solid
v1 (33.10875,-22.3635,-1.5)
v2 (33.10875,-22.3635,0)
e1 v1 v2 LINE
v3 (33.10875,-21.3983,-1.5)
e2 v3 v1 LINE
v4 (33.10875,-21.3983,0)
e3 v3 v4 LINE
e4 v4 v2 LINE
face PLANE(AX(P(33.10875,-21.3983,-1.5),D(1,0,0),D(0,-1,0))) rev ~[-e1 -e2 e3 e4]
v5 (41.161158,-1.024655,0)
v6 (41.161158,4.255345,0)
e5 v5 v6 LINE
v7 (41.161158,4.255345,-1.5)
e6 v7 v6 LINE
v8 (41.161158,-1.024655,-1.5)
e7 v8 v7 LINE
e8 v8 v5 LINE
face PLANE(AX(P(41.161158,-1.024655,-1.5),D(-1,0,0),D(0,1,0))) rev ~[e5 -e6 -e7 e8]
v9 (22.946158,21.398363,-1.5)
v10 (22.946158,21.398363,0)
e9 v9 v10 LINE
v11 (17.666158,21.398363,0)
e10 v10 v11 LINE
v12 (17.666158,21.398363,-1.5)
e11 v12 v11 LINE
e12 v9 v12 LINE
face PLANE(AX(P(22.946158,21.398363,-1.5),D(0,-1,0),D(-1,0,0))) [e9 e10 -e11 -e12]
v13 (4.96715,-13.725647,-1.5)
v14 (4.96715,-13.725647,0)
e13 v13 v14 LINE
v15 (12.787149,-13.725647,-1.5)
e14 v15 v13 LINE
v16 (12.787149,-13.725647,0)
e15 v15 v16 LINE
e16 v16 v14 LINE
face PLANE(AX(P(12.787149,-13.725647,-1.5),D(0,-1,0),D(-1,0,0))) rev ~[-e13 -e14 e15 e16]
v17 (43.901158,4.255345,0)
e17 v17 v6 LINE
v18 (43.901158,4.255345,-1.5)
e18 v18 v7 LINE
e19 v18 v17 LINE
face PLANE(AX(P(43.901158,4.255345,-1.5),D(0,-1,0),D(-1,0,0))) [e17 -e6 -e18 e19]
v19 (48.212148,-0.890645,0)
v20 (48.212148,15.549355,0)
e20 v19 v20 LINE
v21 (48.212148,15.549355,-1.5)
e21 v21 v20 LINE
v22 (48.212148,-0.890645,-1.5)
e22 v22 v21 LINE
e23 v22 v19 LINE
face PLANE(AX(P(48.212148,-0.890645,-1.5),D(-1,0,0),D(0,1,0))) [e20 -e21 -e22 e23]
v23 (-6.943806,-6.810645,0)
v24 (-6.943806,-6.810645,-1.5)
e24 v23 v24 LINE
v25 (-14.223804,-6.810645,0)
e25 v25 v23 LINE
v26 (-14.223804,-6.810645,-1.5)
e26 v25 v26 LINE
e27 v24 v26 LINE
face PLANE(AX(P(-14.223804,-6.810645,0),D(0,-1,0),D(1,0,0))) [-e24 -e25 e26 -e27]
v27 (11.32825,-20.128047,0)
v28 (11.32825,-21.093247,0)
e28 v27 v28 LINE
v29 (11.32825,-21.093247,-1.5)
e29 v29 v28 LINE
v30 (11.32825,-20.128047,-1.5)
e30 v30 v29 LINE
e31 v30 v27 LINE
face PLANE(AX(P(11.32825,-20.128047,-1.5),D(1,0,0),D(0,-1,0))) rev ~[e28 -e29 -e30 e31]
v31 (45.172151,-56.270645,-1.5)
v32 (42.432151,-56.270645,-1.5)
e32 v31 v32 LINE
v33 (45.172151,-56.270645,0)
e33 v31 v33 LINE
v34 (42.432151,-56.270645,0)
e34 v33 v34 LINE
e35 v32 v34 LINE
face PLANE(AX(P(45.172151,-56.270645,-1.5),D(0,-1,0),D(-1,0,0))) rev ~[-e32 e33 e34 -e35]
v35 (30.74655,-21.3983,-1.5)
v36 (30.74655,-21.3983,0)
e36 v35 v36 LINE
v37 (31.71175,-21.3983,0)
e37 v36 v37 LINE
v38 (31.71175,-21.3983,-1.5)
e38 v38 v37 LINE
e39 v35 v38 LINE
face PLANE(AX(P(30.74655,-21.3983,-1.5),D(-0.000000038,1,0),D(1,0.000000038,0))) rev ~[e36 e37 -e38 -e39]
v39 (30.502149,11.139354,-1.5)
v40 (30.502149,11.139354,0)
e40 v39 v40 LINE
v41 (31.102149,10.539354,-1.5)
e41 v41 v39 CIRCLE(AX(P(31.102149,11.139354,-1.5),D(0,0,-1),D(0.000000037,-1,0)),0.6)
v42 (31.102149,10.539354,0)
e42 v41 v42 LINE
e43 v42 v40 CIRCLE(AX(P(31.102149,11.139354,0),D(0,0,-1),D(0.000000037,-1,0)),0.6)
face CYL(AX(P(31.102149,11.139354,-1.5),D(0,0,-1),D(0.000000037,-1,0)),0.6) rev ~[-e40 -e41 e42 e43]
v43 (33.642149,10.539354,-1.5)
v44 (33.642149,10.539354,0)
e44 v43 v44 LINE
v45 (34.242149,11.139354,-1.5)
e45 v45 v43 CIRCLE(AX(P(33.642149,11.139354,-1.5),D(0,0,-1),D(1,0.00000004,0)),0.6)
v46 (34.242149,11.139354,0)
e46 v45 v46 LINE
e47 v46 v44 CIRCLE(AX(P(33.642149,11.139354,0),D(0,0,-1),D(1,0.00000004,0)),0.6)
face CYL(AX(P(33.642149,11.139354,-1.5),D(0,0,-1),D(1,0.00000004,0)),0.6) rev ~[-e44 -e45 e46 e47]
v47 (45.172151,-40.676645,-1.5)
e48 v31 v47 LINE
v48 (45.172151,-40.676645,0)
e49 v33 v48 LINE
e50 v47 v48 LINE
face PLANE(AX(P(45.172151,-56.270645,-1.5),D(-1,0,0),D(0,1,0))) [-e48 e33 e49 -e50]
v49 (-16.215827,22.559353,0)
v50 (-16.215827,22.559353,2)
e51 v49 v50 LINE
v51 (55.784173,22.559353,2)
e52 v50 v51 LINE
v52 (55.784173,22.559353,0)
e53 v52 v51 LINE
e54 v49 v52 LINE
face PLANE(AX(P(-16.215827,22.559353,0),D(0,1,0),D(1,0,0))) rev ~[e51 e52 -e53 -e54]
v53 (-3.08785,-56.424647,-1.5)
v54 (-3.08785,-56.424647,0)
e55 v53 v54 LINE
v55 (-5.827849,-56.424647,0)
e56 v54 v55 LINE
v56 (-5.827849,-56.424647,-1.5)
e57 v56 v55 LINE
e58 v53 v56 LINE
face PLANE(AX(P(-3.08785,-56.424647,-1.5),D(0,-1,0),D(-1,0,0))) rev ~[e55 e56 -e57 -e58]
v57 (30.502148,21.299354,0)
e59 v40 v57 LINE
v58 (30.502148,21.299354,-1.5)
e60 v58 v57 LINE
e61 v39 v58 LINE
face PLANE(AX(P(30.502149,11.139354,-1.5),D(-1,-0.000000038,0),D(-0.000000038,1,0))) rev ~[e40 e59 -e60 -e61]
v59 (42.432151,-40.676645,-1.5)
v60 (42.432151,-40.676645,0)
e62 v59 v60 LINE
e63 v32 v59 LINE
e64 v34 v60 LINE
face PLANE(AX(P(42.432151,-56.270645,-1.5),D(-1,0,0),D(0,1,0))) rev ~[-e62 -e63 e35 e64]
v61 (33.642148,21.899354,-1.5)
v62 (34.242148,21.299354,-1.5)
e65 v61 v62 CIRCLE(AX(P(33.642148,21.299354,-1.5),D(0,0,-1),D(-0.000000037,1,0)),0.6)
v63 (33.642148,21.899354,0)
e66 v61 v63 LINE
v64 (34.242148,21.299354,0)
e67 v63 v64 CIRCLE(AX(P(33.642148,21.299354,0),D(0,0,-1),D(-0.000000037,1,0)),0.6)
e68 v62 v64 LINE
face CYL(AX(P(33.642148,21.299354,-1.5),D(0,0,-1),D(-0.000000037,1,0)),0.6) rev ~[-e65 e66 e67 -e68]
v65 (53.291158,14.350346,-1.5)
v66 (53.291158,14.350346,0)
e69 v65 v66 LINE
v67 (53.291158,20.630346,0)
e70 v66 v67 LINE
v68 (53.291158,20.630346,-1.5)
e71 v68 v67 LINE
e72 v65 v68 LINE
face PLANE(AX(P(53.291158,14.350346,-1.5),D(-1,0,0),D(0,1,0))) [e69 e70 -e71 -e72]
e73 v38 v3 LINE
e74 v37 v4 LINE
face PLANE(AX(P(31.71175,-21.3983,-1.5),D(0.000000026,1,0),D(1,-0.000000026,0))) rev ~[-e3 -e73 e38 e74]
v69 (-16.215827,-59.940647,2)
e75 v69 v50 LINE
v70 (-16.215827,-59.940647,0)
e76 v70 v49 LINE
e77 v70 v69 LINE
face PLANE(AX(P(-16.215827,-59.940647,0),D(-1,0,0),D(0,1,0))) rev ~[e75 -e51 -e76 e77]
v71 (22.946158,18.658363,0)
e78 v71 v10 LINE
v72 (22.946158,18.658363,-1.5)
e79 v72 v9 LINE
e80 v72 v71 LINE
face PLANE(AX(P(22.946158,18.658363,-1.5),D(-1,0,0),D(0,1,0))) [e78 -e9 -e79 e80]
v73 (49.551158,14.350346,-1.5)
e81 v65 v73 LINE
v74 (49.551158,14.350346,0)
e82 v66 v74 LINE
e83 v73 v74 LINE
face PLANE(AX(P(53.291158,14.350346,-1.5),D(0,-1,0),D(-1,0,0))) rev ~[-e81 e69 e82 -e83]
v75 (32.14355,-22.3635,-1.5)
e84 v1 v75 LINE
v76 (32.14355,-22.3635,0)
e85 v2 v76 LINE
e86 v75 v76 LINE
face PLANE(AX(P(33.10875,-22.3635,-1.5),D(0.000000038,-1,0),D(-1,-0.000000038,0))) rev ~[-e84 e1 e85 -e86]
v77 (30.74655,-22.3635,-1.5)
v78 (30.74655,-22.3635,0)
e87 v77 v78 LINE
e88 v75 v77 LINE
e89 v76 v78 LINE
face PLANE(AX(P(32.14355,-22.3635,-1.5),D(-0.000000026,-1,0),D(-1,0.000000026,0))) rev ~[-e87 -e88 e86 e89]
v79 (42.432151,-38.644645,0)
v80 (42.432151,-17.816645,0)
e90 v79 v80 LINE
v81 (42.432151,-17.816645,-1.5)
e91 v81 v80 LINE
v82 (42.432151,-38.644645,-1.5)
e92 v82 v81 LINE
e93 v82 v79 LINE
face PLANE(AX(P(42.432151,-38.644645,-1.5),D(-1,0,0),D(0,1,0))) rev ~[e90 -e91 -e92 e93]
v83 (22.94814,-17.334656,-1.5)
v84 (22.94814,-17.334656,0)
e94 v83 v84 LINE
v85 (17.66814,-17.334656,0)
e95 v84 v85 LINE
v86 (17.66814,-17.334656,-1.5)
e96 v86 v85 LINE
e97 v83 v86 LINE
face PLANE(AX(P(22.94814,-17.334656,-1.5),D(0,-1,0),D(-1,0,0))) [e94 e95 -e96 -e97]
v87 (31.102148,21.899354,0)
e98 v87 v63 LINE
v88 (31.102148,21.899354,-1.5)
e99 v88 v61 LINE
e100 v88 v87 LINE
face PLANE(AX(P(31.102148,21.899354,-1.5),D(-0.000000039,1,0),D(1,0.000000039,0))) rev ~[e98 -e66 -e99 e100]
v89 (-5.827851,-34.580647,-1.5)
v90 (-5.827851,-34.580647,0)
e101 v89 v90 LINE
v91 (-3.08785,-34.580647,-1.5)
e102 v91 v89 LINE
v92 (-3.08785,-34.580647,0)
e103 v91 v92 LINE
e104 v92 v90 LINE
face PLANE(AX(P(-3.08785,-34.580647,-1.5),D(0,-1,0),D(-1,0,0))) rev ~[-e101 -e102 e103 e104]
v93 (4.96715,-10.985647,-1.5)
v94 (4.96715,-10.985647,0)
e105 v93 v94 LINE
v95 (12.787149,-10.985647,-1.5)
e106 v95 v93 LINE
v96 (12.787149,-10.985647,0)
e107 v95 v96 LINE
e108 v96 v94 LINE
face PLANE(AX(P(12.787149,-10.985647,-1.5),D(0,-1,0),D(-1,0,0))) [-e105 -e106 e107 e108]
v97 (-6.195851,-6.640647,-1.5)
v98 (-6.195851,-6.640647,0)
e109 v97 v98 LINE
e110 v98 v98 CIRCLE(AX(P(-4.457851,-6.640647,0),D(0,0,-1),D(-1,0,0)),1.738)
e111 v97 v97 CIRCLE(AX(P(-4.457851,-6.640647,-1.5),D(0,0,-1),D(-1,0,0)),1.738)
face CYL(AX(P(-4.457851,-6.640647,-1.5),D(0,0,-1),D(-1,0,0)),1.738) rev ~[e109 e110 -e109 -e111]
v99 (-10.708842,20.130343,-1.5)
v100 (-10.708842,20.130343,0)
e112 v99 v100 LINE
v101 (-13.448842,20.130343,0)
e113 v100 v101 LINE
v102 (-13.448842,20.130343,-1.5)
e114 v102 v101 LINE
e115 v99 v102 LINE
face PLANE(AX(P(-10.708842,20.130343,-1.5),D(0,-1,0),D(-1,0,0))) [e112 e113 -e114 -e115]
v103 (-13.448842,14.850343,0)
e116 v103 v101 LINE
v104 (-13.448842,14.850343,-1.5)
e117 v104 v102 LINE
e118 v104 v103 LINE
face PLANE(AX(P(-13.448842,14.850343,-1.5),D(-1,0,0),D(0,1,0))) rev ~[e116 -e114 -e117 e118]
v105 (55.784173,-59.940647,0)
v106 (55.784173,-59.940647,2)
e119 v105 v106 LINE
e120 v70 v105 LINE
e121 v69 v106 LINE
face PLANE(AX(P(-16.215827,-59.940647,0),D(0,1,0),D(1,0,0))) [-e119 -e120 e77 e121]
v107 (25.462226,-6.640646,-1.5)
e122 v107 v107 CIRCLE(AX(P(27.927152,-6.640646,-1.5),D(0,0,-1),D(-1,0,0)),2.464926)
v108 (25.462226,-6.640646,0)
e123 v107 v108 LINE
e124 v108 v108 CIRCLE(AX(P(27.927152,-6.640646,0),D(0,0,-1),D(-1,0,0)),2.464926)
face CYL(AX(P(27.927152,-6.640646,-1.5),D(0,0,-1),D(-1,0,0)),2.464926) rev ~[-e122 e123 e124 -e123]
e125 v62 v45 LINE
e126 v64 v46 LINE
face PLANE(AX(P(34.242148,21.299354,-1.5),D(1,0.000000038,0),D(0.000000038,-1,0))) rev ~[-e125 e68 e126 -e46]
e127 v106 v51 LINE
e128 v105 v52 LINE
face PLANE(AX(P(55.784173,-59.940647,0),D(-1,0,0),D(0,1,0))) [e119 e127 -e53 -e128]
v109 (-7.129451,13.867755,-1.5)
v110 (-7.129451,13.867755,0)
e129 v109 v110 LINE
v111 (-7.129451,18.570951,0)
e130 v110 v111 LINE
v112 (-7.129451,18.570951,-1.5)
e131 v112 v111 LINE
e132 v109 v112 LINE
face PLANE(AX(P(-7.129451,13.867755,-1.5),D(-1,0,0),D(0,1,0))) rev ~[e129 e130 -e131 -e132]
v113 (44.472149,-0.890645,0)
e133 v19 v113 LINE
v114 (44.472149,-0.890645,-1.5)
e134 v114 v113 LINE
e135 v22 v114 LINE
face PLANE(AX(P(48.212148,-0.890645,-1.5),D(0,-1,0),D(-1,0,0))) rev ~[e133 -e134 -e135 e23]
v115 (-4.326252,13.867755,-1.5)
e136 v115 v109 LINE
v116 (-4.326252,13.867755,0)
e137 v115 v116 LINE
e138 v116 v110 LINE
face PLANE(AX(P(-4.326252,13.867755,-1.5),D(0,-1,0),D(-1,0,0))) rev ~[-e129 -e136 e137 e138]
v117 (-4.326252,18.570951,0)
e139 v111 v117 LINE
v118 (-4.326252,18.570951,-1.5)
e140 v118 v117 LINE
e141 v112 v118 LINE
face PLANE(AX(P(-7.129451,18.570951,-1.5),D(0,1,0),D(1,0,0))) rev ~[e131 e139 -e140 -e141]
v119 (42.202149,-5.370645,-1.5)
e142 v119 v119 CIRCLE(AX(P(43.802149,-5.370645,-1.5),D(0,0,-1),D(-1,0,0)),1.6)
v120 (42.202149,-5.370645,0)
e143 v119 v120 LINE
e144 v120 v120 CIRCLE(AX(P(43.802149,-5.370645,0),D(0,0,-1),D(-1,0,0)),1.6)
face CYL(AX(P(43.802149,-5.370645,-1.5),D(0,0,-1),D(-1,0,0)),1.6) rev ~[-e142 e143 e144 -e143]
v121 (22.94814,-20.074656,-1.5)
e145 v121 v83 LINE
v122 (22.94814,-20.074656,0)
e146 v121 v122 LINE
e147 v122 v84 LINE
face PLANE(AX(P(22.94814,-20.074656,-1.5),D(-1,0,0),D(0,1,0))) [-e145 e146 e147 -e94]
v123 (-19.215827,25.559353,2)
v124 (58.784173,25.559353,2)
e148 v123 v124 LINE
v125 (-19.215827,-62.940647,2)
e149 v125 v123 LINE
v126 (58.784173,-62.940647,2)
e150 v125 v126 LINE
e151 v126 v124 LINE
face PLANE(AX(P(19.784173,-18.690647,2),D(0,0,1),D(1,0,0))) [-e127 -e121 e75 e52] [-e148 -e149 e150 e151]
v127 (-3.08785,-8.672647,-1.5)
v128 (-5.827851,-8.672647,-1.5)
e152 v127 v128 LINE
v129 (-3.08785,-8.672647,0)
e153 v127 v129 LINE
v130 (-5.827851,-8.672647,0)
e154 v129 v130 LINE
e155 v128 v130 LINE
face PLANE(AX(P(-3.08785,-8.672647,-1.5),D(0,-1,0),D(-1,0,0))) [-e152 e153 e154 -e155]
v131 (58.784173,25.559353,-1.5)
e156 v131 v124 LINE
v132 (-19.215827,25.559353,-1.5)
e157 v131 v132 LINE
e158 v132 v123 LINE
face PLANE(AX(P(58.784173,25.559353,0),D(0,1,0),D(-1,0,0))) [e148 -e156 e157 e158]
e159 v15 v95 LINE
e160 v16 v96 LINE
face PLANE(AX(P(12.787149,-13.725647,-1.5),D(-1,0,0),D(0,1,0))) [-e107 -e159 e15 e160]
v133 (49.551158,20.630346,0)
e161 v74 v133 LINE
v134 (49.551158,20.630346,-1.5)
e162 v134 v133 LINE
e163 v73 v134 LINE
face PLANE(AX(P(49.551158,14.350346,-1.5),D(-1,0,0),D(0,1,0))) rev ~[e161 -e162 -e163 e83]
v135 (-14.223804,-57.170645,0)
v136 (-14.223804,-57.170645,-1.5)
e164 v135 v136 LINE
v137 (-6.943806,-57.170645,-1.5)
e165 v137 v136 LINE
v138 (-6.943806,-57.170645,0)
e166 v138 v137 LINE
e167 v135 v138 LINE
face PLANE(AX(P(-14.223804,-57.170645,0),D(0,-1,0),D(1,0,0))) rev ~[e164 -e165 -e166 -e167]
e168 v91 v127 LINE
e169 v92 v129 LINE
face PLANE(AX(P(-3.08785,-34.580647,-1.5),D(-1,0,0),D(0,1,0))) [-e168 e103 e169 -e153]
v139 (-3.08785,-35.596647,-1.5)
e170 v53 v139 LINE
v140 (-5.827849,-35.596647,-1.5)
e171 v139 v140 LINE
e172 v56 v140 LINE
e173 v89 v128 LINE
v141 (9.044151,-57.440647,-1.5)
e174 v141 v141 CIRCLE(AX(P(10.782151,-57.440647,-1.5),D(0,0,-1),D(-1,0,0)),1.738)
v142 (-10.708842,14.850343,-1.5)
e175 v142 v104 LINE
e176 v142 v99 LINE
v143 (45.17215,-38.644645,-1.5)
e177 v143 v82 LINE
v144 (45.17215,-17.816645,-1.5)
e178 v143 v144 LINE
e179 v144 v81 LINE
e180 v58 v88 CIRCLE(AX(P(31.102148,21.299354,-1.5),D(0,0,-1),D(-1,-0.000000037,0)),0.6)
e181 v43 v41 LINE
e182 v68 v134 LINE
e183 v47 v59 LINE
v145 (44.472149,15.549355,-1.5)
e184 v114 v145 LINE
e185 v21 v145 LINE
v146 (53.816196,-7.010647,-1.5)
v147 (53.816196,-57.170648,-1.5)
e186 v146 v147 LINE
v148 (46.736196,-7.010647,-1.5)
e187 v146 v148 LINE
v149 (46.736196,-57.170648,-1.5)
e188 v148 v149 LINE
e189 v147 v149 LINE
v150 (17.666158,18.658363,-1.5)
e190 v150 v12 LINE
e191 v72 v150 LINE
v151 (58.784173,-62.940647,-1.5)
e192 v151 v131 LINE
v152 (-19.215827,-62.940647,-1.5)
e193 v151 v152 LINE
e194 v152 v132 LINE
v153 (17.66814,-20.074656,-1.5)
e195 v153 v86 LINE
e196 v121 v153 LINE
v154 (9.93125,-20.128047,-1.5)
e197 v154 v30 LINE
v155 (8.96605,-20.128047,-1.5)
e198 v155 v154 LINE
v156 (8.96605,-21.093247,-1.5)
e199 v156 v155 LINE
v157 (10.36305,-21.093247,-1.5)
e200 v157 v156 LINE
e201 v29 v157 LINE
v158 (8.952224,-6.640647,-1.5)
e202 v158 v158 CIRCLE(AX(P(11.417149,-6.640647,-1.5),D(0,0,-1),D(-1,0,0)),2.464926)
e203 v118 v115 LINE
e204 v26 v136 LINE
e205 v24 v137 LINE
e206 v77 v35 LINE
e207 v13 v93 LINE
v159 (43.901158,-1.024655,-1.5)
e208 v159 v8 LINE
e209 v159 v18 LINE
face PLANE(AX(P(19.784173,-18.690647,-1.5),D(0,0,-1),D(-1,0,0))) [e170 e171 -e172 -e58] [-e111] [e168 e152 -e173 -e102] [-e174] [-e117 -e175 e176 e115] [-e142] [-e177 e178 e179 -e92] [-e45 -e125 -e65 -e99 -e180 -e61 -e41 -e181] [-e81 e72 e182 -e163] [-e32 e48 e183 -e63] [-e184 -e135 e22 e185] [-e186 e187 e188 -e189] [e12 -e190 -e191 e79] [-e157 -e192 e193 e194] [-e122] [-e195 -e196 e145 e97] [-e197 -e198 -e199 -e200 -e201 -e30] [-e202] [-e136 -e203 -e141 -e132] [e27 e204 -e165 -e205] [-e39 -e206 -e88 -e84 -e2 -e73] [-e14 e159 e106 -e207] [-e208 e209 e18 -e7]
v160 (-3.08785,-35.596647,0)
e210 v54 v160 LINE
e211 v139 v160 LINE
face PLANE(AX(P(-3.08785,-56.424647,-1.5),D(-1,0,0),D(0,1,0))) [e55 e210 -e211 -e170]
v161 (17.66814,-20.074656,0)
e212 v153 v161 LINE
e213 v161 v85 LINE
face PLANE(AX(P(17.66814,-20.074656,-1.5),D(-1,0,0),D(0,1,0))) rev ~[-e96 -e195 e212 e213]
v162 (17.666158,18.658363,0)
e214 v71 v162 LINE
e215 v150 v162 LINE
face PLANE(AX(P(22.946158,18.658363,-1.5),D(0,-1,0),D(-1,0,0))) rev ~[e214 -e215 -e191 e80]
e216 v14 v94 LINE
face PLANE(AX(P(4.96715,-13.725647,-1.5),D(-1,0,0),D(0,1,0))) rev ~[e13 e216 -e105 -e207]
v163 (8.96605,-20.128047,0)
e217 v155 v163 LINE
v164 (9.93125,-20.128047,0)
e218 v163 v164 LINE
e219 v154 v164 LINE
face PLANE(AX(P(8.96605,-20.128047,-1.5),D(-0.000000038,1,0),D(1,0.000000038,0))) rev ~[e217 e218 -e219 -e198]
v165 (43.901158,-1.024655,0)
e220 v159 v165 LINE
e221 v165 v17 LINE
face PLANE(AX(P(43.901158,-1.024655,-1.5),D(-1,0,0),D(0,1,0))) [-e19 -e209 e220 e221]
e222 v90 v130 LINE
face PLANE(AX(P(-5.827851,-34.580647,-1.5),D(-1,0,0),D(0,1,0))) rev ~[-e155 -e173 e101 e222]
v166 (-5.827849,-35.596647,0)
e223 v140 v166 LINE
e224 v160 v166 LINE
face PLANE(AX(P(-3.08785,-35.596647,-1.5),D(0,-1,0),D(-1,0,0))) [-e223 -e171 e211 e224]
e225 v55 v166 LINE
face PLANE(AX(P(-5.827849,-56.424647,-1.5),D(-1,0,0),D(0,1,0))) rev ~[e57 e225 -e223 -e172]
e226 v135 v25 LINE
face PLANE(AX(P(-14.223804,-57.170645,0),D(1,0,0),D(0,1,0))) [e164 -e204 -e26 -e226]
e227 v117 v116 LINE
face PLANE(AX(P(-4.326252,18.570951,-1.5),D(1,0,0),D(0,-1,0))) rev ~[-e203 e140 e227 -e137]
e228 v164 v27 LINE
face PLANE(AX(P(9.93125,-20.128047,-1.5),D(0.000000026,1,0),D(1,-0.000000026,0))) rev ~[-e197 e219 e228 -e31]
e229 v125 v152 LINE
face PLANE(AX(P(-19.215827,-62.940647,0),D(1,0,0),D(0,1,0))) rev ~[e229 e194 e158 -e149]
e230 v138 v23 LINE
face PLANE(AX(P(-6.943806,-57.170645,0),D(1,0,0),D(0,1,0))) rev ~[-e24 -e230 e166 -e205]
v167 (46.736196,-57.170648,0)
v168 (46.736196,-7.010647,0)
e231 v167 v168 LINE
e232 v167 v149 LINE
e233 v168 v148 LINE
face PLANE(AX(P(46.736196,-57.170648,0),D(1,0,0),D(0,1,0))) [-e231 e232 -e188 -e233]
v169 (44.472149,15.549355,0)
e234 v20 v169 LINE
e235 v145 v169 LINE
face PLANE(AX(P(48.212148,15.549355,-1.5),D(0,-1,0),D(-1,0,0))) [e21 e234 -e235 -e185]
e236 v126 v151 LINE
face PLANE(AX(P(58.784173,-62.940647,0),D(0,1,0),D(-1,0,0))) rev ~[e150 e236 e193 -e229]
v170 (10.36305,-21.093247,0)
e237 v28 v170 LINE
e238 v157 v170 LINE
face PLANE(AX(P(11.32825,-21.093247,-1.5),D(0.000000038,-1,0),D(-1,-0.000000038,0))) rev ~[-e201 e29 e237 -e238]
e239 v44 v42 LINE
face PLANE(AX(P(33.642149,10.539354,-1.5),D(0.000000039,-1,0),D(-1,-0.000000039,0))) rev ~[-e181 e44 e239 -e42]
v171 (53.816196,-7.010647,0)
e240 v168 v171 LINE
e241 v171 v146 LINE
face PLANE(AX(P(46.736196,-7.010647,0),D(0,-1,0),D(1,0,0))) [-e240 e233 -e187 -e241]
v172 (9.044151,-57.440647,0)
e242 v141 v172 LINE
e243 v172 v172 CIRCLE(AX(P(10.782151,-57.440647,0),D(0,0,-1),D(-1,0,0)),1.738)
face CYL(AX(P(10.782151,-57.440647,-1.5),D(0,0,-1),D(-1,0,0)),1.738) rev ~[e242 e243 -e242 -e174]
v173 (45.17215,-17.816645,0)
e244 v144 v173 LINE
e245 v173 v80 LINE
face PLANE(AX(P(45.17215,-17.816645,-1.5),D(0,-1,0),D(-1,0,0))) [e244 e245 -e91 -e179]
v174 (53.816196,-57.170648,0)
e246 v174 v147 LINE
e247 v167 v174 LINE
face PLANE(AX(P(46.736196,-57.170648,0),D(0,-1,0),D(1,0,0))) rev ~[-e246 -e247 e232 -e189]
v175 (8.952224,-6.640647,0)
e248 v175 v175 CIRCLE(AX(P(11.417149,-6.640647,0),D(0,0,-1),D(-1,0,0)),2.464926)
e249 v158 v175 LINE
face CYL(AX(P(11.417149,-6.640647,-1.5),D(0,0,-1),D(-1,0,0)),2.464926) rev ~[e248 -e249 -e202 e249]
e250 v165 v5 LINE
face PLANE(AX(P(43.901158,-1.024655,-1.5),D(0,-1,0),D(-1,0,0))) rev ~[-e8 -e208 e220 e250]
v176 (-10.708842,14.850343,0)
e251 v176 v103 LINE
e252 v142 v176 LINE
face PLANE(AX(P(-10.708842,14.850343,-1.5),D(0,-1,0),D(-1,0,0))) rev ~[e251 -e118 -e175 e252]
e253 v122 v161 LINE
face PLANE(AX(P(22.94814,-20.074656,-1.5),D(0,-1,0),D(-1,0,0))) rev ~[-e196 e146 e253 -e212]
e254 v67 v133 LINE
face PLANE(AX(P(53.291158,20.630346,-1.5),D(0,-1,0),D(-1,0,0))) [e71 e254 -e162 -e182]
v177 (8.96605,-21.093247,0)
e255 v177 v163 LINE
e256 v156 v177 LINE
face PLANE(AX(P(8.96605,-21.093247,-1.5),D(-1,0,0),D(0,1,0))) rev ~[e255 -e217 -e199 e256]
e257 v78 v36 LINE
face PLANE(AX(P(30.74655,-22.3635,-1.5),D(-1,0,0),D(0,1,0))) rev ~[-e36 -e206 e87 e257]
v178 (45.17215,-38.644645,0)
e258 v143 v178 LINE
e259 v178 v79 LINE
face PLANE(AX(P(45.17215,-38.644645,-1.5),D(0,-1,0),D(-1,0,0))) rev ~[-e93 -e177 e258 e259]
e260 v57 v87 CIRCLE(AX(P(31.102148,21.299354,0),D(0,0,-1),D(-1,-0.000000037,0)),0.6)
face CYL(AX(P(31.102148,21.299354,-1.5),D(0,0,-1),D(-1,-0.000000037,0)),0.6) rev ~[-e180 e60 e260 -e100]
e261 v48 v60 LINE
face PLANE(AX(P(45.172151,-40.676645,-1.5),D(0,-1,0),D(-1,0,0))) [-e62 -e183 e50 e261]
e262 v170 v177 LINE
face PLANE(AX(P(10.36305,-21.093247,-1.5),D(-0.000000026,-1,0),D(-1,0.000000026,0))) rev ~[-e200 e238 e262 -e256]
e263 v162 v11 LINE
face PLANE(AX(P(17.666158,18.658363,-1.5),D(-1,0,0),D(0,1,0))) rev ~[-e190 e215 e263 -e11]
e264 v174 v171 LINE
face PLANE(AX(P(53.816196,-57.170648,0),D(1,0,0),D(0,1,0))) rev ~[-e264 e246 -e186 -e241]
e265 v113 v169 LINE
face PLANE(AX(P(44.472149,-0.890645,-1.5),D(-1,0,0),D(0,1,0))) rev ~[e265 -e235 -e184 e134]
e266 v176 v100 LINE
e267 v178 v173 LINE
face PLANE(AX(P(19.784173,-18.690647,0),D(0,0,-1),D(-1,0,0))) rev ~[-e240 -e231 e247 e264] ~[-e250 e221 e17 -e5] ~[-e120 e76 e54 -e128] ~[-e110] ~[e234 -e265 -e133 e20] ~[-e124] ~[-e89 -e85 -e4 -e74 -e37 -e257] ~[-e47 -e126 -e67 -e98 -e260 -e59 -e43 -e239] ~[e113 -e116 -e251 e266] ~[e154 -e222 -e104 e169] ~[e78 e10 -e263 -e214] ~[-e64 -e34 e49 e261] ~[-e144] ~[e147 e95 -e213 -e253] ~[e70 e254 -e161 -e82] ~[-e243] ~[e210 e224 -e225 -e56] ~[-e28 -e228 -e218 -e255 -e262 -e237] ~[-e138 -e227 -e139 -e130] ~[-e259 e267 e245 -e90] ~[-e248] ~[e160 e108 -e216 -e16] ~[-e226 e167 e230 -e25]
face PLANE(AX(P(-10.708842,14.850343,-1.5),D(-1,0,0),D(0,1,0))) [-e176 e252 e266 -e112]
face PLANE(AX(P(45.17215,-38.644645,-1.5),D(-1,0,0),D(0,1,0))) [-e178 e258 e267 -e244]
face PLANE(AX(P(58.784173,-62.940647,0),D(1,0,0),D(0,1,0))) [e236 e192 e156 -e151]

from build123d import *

# Parameters (mm, degrees)
SKETCH1_W           = 78
SKETCH1_H           = 88.5
SKETCH1_W_2         = 72
SKETCH1_H_2         = 82.5
BOSS_EXTRUDE1_DEPTH = 2
SKETCH2_W           = 78
SKETCH2_H           = 88.5
BOSS_EXTRUDE2_DEPTH = 1.5
SKETCH7_W           = 7.279998142
SKETCH7_H           = 50.36
SKETCH7_W_2         = 7.079999996
SKETCH7_H_2         = 50.160000192
CUT_EXTRUDE1_DEPTH  = 15
SKETCH8_R           = 1.738
SKETCH8_R_2         = 1.6
CUT_EXTRUDE2_DEPTH  = 10
SKETCH9_R           = 2.464925529
CUT_EXTRUDE3_DEPTH  = 10
SKETCH11_W          = 5.279999902
SKETCH11_H          = 2.74
SKETCH11_W_2        = 2.74
SKETCH11_H_2        = 5.28
SKETCH11_W_3        = 7.819999902
SKETCH11_W_4        = 5.280000098
SKETCH11_H_3        = 2.739999805
CUT_EXTRUDE4_DEPTH  = 10
SKETCH10_W          = 2.740000978
SKETCH10_H          = 25.907999907
SKETCH10_W_2        = 2.739999218
SKETCH10_H_2        = 20.828000093
SKETCH10_W_3        = 2.73999941
SKETCH10_H_3        = 15.594000099
SKETCH10_W_4        = 3.739999409
SKETCH10_H_4        = 16.440000004
SKETCH10_W_5        = 2.739999409
SKETCH10_H_5        = 15.440000004
SKETCH10_W_6        = 3.739999801
SKETCH10_H_6        = 6.280000102
SKETCH10_W_7        = 2.739999801
SKETCH10_H_7        = 5.280000102
CUT_EXTRUDE5_DEPTH  = 10
CUT_EXTRUDE6_DEPTH  = 10


with BuildPart() as part:
    # Sketch1 → Boss-Extrude1 (new body)
    with BuildSketch(Plane.XY):
        with Locations((19.784172662, -18.690647482)):
            Rectangle(SKETCH1_W, SKETCH1_H)
        with Locations((19.784172662, -18.690647482)):
            Rectangle(SKETCH1_W_2, SKETCH1_H_2, mode=Mode.SUBTRACT)
    extrude(amount=BOSS_EXTRUDE1_DEPTH)

    # Sketch2 → Boss-Extrude2 (add)
    with BuildSketch(Plane(origin=(0, 0, 0), x_dir=(-1, 0, 0), z_dir=(0, 0, -1))):
        with Locations((-19.784172662, -18.690647482)):
            Rectangle(SKETCH2_W, SKETCH2_H)
    extrude(amount=BOSS_EXTRUDE2_DEPTH)

    # Sketch7 → Cut-Extrude1 (cut)
    with BuildSketch(Plane.XY):
        with Locations((-10.583804942, -31.990645157)):
            Rectangle(SKETCH7_W, SKETCH7_H)
        with Locations((50.276195985, -32.090647407)):
            Rectangle(SKETCH7_W_2, SKETCH7_H_2)
    extrude(amount=-CUT_EXTRUDE1_DEPTH, mode=Mode.SUBTRACT)

    # Sketch8 → Cut-Extrude2 (cut)
    with BuildSketch(Plane(origin=(0, 0, -1.5), x_dir=(-1, 0, 0), z_dir=(0, 0, -1))):
        with Locations((-10.782151243, -57.440646574)):
            Circle(SKETCH8_R)
        with Locations((4.457850712, -6.640647161)):
            Circle(SKETCH8_R)
        with Locations((-43.802149239, -5.370645303)):
            Circle(SKETCH8_R_2)
    extrude(amount=-CUT_EXTRUDE2_DEPTH, mode=Mode.SUBTRACT)

    # Sketch9 → Cut-Extrude3 (cut)
    with BuildSketch(Plane(origin=(0, 0, -1.5), x_dir=(-1, 0, 0), z_dir=(0, 0, -1))):
        with Locations((-27.927151828, -6.640645914)):
            Circle(SKETCH9_R)
        with Locations((-11.417149288, -6.64064655)):
            Circle(SKETCH9_R)
    extrude(amount=-CUT_EXTRUDE3_DEPTH, mode=Mode.SUBTRACT)

    # Sketch11 → Cut-Extrude4 (cut)
    with BuildSketch(Plane(origin=(0, 0, -1.5), x_dir=(-1, 0, 0), z_dir=(0, 0, -1))):
        with Locations((-20.306157662, 20.028363095)):
            Rectangle(SKETCH11_W, SKETCH11_H)
        with Locations((-42.531158468, 1.615345297)):
            Rectangle(SKETCH11_W_2, SKETCH11_H_2)
        with Locations((-8.877149508, -12.355646794)):
            Rectangle(SKETCH11_W_3, SKETCH11_H)
        with Locations((-20.308140255, -18.704655608)):
            Rectangle(SKETCH11_W_4, SKETCH11_H_3)
        with Locations((12.078842143, 17.490343195)):
            Rectangle(SKETCH11_W_2, SKETCH11_H_2)
    extrude(amount=-CUT_EXTRUDE4_DEPTH, mode=Mode.SUBTRACT)

    # Sketch10 → Cut-Extrude5 (cut)
    # profile 1 of 10: a face of its own
    with BuildSketch(Plane(origin=(0, 0, -1.5), x_dir=(-1, 0, 0), z_dir=(0, 0, -1))):
        with Locations((4.457850135, -21.62664716)):
            Rectangle(SKETCH10_W, SKETCH10_H)
    # profile 2 of 10: a face of its own
    with BuildSketch(Plane(origin=(0, 0, -1.5), x_dir=(-1, 0, 0), z_dir=(0, 0, -1))):
        with Locations((4.457849197, -46.01064716)):
            Rectangle(SKETCH10_W_2, SKETCH10_H_2)
    # profile 3 of 10: a face of its own
    with BuildSketch(Plane(origin=(0, 0, -1.5), x_dir=(-1, 0, 0), z_dir=(0, 0, -1))):
        with Locations((-43.802150903, -48.473645307)):
            Rectangle(SKETCH10_W_3, SKETCH10_H_3)
    # profile 4 of 10: a face of its own
    with BuildSketch(Plane(origin=(0, 0, -1.5), x_dir=(-1, 0, 0), z_dir=(0, 0, -1))):
        with Locations((-43.802150119, -28.230645304)):
            Rectangle(SKETCH10_W_2, SKETCH10_H_2)
    # profile 5 of 10: a face of its own
    with BuildSketch(Plane(origin=(0, 0, -1.5), x_dir=(-1, 0, 0), z_dir=(0, 0, -1))):
        with Locations((-46.342148749, 7.329354744)):
            Rectangle(SKETCH10_W_4, SKETCH10_H_4)
        with Locations((-46.342148749, 7.329354744)):
            Rectangle(SKETCH10_W_5, SKETCH10_H_5, mode=Mode.SUBTRACT)
    # profile 6 of 10: a face of its own
    with BuildSketch(Plane(origin=(0, 0, -1.5), x_dir=(-1, 0, 0), z_dir=(0, 0, -1))):
        with Locations((-46.342148749, 7.329354744)):
            Rectangle(SKETCH10_W_5, SKETCH10_H_5)
    # profile 7 of 10: a face of its own
    with BuildSketch(Plane(origin=(0, 0, -1.5), x_dir=(-1, 0, 0), z_dir=(0, 0, -1))):
        with Locations((-51.421157761, 17.490345588)):
            Rectangle(SKETCH10_W_6, SKETCH10_H_6)
        with Locations((-51.421157761, 17.490345588)):
            Rectangle(SKETCH10_W_7, SKETCH10_H_7, mode=Mode.SUBTRACT)
    # profile 8 of 10: a face of its own
    with BuildSketch(Plane(origin=(0, 0, -1.5), x_dir=(-1, 0, 0), z_dir=(0, 0, -1))):
        with Locations((-51.421157761, 17.490345588)):
            Rectangle(SKETCH10_W_7, SKETCH10_H_7)
    # profile 9 of 10: a face of its own
    with BuildSketch(Plane(origin=(0, 0, -1.5), x_dir=(-1, 0, 0), z_dir=(0, 0, -1))):
        with BuildLine():
            Line((-31.10214819, 21.899354208), (-33.64214819, 21.899354306))
            ThreePointArc((-33.64214819, 21.899354306), (-34.066412265, 21.723618391), (-34.242148213, 21.299354329))
            Line((-34.242148213, 21.299354329), (-34.242148604, 11.139354329))
            ThreePointArc((-34.242148604, 11.139354329), (-34.066412689, 10.715090253), (-33.642148627, 10.539354306))
            Line((-33.642148627, 10.539354306), (-31.102148627, 10.539354208))
            ThreePointArc((-31.102148627, 10.539354208), (-30.677884552, 10.715090123), (-30.502148604, 11.139354185))
            Line((-30.502148604, 11.139354185), (-30.502148213, 21.299354185))
            ThreePointArc((-30.502148213, 21.299354185), (-30.677884128, 21.72361826), (-31.10214819, 21.899354208))
        make_face()
        with BuildLine():
            ThreePointArc((-33.742148604, 11.139354309), (-33.712859285, 11.06864363), (-33.642148608, 11.039354306))
            Line((-33.642148608, 11.039354306), (-31.102148608, 11.039354208))
            ThreePointArc((-31.102148608, 11.039354208), (-31.031437929, 11.068643527), (-31.002148604, 11.139354204))
            Line((-31.002148604, 11.139354204), (-31.002148213, 21.299354204))
            ThreePointArc((-31.002148213, 21.299354204), (-31.031437532, 21.370064883), (-31.102148209, 21.399354208))
            Line((-31.102148209, 21.399354208), (-33.642148209, 21.399354306))
            ThreePointArc((-33.642148209, 21.399354306), (-33.712858888, 21.370064986), (-33.742148213, 21.299354309))
            Line((-33.742148213, 21.299354309), (-33.742148604, 11.139354309))
        make_face(mode=Mode.SUBTRACT)
    # profile 10 of 10: a face of its own
    with BuildSketch(Plane(origin=(0, 0, -1.5), x_dir=(-1, 0, 0), z_dir=(0, 0, -1))):
        with BuildLine():
            Line((-33.742148213, 21.299354309), (-33.742148604, 11.139354309))
            ThreePointArc((-33.742148604, 11.139354309), (-33.712859285, 11.06864363), (-33.642148608, 11.039354306))
            Line((-33.642148608, 11.039354306), (-31.102148608, 11.039354208))
            ThreePointArc((-31.102148608, 11.039354208), (-31.031437929, 11.068643527), (-31.002148604, 11.139354204))
            Line((-31.002148604, 11.139354204), (-31.002148213, 21.299354204))
            ThreePointArc((-31.002148213, 21.299354204), (-31.031437532, 21.370064883), (-31.102148209, 21.399354208))
            Line((-31.102148209, 21.399354208), (-33.642148209, 21.399354306))
            ThreePointArc((-33.642148209, 21.399354306), (-33.712858888, 21.370064986), (-33.742148213, 21.299354309))
        make_face()
    extrude(amount=-CUT_EXTRUDE5_DEPTH, mode=Mode.SUBTRACT)

    # Sketch12 → Cut-Extrude6 (cut)
    with BuildSketch(Plane(origin=(0, 0, -1.5), x_dir=(-1, 0, 0), z_dir=(0, 0, -1))):
        Polygon((-33.108749893, -22.363499715), (-32.143549893, -22.363499752), (-30.746549856, -22.363499715), (-30.746549856, -21.398299806), (-31.711749856, -21.398299769), (-33.108749893, -21.398299806), align=None)
        Polygon((-11.328249844, -20.128046644), (-11.328249844, -21.093246553), (-10.363049844, -21.09324659), (-8.966049807, -21.093246553), (-8.966049807, -20.128046644), (-9.931249807, -20.128046607), align=None)
        Polygon((4.326251742, 13.867754697), (5.826253641, 13.867754697), (7.129451441, 13.867754697), (7.129451441, 18.570950884), (5.629449542, 18.570950884), (4.326251742, 18.570950884), align=None)
    extrude(amount=-CUT_EXTRUDE6_DEPTH, mode=Mode.SUBTRACT)


solid = part.part
